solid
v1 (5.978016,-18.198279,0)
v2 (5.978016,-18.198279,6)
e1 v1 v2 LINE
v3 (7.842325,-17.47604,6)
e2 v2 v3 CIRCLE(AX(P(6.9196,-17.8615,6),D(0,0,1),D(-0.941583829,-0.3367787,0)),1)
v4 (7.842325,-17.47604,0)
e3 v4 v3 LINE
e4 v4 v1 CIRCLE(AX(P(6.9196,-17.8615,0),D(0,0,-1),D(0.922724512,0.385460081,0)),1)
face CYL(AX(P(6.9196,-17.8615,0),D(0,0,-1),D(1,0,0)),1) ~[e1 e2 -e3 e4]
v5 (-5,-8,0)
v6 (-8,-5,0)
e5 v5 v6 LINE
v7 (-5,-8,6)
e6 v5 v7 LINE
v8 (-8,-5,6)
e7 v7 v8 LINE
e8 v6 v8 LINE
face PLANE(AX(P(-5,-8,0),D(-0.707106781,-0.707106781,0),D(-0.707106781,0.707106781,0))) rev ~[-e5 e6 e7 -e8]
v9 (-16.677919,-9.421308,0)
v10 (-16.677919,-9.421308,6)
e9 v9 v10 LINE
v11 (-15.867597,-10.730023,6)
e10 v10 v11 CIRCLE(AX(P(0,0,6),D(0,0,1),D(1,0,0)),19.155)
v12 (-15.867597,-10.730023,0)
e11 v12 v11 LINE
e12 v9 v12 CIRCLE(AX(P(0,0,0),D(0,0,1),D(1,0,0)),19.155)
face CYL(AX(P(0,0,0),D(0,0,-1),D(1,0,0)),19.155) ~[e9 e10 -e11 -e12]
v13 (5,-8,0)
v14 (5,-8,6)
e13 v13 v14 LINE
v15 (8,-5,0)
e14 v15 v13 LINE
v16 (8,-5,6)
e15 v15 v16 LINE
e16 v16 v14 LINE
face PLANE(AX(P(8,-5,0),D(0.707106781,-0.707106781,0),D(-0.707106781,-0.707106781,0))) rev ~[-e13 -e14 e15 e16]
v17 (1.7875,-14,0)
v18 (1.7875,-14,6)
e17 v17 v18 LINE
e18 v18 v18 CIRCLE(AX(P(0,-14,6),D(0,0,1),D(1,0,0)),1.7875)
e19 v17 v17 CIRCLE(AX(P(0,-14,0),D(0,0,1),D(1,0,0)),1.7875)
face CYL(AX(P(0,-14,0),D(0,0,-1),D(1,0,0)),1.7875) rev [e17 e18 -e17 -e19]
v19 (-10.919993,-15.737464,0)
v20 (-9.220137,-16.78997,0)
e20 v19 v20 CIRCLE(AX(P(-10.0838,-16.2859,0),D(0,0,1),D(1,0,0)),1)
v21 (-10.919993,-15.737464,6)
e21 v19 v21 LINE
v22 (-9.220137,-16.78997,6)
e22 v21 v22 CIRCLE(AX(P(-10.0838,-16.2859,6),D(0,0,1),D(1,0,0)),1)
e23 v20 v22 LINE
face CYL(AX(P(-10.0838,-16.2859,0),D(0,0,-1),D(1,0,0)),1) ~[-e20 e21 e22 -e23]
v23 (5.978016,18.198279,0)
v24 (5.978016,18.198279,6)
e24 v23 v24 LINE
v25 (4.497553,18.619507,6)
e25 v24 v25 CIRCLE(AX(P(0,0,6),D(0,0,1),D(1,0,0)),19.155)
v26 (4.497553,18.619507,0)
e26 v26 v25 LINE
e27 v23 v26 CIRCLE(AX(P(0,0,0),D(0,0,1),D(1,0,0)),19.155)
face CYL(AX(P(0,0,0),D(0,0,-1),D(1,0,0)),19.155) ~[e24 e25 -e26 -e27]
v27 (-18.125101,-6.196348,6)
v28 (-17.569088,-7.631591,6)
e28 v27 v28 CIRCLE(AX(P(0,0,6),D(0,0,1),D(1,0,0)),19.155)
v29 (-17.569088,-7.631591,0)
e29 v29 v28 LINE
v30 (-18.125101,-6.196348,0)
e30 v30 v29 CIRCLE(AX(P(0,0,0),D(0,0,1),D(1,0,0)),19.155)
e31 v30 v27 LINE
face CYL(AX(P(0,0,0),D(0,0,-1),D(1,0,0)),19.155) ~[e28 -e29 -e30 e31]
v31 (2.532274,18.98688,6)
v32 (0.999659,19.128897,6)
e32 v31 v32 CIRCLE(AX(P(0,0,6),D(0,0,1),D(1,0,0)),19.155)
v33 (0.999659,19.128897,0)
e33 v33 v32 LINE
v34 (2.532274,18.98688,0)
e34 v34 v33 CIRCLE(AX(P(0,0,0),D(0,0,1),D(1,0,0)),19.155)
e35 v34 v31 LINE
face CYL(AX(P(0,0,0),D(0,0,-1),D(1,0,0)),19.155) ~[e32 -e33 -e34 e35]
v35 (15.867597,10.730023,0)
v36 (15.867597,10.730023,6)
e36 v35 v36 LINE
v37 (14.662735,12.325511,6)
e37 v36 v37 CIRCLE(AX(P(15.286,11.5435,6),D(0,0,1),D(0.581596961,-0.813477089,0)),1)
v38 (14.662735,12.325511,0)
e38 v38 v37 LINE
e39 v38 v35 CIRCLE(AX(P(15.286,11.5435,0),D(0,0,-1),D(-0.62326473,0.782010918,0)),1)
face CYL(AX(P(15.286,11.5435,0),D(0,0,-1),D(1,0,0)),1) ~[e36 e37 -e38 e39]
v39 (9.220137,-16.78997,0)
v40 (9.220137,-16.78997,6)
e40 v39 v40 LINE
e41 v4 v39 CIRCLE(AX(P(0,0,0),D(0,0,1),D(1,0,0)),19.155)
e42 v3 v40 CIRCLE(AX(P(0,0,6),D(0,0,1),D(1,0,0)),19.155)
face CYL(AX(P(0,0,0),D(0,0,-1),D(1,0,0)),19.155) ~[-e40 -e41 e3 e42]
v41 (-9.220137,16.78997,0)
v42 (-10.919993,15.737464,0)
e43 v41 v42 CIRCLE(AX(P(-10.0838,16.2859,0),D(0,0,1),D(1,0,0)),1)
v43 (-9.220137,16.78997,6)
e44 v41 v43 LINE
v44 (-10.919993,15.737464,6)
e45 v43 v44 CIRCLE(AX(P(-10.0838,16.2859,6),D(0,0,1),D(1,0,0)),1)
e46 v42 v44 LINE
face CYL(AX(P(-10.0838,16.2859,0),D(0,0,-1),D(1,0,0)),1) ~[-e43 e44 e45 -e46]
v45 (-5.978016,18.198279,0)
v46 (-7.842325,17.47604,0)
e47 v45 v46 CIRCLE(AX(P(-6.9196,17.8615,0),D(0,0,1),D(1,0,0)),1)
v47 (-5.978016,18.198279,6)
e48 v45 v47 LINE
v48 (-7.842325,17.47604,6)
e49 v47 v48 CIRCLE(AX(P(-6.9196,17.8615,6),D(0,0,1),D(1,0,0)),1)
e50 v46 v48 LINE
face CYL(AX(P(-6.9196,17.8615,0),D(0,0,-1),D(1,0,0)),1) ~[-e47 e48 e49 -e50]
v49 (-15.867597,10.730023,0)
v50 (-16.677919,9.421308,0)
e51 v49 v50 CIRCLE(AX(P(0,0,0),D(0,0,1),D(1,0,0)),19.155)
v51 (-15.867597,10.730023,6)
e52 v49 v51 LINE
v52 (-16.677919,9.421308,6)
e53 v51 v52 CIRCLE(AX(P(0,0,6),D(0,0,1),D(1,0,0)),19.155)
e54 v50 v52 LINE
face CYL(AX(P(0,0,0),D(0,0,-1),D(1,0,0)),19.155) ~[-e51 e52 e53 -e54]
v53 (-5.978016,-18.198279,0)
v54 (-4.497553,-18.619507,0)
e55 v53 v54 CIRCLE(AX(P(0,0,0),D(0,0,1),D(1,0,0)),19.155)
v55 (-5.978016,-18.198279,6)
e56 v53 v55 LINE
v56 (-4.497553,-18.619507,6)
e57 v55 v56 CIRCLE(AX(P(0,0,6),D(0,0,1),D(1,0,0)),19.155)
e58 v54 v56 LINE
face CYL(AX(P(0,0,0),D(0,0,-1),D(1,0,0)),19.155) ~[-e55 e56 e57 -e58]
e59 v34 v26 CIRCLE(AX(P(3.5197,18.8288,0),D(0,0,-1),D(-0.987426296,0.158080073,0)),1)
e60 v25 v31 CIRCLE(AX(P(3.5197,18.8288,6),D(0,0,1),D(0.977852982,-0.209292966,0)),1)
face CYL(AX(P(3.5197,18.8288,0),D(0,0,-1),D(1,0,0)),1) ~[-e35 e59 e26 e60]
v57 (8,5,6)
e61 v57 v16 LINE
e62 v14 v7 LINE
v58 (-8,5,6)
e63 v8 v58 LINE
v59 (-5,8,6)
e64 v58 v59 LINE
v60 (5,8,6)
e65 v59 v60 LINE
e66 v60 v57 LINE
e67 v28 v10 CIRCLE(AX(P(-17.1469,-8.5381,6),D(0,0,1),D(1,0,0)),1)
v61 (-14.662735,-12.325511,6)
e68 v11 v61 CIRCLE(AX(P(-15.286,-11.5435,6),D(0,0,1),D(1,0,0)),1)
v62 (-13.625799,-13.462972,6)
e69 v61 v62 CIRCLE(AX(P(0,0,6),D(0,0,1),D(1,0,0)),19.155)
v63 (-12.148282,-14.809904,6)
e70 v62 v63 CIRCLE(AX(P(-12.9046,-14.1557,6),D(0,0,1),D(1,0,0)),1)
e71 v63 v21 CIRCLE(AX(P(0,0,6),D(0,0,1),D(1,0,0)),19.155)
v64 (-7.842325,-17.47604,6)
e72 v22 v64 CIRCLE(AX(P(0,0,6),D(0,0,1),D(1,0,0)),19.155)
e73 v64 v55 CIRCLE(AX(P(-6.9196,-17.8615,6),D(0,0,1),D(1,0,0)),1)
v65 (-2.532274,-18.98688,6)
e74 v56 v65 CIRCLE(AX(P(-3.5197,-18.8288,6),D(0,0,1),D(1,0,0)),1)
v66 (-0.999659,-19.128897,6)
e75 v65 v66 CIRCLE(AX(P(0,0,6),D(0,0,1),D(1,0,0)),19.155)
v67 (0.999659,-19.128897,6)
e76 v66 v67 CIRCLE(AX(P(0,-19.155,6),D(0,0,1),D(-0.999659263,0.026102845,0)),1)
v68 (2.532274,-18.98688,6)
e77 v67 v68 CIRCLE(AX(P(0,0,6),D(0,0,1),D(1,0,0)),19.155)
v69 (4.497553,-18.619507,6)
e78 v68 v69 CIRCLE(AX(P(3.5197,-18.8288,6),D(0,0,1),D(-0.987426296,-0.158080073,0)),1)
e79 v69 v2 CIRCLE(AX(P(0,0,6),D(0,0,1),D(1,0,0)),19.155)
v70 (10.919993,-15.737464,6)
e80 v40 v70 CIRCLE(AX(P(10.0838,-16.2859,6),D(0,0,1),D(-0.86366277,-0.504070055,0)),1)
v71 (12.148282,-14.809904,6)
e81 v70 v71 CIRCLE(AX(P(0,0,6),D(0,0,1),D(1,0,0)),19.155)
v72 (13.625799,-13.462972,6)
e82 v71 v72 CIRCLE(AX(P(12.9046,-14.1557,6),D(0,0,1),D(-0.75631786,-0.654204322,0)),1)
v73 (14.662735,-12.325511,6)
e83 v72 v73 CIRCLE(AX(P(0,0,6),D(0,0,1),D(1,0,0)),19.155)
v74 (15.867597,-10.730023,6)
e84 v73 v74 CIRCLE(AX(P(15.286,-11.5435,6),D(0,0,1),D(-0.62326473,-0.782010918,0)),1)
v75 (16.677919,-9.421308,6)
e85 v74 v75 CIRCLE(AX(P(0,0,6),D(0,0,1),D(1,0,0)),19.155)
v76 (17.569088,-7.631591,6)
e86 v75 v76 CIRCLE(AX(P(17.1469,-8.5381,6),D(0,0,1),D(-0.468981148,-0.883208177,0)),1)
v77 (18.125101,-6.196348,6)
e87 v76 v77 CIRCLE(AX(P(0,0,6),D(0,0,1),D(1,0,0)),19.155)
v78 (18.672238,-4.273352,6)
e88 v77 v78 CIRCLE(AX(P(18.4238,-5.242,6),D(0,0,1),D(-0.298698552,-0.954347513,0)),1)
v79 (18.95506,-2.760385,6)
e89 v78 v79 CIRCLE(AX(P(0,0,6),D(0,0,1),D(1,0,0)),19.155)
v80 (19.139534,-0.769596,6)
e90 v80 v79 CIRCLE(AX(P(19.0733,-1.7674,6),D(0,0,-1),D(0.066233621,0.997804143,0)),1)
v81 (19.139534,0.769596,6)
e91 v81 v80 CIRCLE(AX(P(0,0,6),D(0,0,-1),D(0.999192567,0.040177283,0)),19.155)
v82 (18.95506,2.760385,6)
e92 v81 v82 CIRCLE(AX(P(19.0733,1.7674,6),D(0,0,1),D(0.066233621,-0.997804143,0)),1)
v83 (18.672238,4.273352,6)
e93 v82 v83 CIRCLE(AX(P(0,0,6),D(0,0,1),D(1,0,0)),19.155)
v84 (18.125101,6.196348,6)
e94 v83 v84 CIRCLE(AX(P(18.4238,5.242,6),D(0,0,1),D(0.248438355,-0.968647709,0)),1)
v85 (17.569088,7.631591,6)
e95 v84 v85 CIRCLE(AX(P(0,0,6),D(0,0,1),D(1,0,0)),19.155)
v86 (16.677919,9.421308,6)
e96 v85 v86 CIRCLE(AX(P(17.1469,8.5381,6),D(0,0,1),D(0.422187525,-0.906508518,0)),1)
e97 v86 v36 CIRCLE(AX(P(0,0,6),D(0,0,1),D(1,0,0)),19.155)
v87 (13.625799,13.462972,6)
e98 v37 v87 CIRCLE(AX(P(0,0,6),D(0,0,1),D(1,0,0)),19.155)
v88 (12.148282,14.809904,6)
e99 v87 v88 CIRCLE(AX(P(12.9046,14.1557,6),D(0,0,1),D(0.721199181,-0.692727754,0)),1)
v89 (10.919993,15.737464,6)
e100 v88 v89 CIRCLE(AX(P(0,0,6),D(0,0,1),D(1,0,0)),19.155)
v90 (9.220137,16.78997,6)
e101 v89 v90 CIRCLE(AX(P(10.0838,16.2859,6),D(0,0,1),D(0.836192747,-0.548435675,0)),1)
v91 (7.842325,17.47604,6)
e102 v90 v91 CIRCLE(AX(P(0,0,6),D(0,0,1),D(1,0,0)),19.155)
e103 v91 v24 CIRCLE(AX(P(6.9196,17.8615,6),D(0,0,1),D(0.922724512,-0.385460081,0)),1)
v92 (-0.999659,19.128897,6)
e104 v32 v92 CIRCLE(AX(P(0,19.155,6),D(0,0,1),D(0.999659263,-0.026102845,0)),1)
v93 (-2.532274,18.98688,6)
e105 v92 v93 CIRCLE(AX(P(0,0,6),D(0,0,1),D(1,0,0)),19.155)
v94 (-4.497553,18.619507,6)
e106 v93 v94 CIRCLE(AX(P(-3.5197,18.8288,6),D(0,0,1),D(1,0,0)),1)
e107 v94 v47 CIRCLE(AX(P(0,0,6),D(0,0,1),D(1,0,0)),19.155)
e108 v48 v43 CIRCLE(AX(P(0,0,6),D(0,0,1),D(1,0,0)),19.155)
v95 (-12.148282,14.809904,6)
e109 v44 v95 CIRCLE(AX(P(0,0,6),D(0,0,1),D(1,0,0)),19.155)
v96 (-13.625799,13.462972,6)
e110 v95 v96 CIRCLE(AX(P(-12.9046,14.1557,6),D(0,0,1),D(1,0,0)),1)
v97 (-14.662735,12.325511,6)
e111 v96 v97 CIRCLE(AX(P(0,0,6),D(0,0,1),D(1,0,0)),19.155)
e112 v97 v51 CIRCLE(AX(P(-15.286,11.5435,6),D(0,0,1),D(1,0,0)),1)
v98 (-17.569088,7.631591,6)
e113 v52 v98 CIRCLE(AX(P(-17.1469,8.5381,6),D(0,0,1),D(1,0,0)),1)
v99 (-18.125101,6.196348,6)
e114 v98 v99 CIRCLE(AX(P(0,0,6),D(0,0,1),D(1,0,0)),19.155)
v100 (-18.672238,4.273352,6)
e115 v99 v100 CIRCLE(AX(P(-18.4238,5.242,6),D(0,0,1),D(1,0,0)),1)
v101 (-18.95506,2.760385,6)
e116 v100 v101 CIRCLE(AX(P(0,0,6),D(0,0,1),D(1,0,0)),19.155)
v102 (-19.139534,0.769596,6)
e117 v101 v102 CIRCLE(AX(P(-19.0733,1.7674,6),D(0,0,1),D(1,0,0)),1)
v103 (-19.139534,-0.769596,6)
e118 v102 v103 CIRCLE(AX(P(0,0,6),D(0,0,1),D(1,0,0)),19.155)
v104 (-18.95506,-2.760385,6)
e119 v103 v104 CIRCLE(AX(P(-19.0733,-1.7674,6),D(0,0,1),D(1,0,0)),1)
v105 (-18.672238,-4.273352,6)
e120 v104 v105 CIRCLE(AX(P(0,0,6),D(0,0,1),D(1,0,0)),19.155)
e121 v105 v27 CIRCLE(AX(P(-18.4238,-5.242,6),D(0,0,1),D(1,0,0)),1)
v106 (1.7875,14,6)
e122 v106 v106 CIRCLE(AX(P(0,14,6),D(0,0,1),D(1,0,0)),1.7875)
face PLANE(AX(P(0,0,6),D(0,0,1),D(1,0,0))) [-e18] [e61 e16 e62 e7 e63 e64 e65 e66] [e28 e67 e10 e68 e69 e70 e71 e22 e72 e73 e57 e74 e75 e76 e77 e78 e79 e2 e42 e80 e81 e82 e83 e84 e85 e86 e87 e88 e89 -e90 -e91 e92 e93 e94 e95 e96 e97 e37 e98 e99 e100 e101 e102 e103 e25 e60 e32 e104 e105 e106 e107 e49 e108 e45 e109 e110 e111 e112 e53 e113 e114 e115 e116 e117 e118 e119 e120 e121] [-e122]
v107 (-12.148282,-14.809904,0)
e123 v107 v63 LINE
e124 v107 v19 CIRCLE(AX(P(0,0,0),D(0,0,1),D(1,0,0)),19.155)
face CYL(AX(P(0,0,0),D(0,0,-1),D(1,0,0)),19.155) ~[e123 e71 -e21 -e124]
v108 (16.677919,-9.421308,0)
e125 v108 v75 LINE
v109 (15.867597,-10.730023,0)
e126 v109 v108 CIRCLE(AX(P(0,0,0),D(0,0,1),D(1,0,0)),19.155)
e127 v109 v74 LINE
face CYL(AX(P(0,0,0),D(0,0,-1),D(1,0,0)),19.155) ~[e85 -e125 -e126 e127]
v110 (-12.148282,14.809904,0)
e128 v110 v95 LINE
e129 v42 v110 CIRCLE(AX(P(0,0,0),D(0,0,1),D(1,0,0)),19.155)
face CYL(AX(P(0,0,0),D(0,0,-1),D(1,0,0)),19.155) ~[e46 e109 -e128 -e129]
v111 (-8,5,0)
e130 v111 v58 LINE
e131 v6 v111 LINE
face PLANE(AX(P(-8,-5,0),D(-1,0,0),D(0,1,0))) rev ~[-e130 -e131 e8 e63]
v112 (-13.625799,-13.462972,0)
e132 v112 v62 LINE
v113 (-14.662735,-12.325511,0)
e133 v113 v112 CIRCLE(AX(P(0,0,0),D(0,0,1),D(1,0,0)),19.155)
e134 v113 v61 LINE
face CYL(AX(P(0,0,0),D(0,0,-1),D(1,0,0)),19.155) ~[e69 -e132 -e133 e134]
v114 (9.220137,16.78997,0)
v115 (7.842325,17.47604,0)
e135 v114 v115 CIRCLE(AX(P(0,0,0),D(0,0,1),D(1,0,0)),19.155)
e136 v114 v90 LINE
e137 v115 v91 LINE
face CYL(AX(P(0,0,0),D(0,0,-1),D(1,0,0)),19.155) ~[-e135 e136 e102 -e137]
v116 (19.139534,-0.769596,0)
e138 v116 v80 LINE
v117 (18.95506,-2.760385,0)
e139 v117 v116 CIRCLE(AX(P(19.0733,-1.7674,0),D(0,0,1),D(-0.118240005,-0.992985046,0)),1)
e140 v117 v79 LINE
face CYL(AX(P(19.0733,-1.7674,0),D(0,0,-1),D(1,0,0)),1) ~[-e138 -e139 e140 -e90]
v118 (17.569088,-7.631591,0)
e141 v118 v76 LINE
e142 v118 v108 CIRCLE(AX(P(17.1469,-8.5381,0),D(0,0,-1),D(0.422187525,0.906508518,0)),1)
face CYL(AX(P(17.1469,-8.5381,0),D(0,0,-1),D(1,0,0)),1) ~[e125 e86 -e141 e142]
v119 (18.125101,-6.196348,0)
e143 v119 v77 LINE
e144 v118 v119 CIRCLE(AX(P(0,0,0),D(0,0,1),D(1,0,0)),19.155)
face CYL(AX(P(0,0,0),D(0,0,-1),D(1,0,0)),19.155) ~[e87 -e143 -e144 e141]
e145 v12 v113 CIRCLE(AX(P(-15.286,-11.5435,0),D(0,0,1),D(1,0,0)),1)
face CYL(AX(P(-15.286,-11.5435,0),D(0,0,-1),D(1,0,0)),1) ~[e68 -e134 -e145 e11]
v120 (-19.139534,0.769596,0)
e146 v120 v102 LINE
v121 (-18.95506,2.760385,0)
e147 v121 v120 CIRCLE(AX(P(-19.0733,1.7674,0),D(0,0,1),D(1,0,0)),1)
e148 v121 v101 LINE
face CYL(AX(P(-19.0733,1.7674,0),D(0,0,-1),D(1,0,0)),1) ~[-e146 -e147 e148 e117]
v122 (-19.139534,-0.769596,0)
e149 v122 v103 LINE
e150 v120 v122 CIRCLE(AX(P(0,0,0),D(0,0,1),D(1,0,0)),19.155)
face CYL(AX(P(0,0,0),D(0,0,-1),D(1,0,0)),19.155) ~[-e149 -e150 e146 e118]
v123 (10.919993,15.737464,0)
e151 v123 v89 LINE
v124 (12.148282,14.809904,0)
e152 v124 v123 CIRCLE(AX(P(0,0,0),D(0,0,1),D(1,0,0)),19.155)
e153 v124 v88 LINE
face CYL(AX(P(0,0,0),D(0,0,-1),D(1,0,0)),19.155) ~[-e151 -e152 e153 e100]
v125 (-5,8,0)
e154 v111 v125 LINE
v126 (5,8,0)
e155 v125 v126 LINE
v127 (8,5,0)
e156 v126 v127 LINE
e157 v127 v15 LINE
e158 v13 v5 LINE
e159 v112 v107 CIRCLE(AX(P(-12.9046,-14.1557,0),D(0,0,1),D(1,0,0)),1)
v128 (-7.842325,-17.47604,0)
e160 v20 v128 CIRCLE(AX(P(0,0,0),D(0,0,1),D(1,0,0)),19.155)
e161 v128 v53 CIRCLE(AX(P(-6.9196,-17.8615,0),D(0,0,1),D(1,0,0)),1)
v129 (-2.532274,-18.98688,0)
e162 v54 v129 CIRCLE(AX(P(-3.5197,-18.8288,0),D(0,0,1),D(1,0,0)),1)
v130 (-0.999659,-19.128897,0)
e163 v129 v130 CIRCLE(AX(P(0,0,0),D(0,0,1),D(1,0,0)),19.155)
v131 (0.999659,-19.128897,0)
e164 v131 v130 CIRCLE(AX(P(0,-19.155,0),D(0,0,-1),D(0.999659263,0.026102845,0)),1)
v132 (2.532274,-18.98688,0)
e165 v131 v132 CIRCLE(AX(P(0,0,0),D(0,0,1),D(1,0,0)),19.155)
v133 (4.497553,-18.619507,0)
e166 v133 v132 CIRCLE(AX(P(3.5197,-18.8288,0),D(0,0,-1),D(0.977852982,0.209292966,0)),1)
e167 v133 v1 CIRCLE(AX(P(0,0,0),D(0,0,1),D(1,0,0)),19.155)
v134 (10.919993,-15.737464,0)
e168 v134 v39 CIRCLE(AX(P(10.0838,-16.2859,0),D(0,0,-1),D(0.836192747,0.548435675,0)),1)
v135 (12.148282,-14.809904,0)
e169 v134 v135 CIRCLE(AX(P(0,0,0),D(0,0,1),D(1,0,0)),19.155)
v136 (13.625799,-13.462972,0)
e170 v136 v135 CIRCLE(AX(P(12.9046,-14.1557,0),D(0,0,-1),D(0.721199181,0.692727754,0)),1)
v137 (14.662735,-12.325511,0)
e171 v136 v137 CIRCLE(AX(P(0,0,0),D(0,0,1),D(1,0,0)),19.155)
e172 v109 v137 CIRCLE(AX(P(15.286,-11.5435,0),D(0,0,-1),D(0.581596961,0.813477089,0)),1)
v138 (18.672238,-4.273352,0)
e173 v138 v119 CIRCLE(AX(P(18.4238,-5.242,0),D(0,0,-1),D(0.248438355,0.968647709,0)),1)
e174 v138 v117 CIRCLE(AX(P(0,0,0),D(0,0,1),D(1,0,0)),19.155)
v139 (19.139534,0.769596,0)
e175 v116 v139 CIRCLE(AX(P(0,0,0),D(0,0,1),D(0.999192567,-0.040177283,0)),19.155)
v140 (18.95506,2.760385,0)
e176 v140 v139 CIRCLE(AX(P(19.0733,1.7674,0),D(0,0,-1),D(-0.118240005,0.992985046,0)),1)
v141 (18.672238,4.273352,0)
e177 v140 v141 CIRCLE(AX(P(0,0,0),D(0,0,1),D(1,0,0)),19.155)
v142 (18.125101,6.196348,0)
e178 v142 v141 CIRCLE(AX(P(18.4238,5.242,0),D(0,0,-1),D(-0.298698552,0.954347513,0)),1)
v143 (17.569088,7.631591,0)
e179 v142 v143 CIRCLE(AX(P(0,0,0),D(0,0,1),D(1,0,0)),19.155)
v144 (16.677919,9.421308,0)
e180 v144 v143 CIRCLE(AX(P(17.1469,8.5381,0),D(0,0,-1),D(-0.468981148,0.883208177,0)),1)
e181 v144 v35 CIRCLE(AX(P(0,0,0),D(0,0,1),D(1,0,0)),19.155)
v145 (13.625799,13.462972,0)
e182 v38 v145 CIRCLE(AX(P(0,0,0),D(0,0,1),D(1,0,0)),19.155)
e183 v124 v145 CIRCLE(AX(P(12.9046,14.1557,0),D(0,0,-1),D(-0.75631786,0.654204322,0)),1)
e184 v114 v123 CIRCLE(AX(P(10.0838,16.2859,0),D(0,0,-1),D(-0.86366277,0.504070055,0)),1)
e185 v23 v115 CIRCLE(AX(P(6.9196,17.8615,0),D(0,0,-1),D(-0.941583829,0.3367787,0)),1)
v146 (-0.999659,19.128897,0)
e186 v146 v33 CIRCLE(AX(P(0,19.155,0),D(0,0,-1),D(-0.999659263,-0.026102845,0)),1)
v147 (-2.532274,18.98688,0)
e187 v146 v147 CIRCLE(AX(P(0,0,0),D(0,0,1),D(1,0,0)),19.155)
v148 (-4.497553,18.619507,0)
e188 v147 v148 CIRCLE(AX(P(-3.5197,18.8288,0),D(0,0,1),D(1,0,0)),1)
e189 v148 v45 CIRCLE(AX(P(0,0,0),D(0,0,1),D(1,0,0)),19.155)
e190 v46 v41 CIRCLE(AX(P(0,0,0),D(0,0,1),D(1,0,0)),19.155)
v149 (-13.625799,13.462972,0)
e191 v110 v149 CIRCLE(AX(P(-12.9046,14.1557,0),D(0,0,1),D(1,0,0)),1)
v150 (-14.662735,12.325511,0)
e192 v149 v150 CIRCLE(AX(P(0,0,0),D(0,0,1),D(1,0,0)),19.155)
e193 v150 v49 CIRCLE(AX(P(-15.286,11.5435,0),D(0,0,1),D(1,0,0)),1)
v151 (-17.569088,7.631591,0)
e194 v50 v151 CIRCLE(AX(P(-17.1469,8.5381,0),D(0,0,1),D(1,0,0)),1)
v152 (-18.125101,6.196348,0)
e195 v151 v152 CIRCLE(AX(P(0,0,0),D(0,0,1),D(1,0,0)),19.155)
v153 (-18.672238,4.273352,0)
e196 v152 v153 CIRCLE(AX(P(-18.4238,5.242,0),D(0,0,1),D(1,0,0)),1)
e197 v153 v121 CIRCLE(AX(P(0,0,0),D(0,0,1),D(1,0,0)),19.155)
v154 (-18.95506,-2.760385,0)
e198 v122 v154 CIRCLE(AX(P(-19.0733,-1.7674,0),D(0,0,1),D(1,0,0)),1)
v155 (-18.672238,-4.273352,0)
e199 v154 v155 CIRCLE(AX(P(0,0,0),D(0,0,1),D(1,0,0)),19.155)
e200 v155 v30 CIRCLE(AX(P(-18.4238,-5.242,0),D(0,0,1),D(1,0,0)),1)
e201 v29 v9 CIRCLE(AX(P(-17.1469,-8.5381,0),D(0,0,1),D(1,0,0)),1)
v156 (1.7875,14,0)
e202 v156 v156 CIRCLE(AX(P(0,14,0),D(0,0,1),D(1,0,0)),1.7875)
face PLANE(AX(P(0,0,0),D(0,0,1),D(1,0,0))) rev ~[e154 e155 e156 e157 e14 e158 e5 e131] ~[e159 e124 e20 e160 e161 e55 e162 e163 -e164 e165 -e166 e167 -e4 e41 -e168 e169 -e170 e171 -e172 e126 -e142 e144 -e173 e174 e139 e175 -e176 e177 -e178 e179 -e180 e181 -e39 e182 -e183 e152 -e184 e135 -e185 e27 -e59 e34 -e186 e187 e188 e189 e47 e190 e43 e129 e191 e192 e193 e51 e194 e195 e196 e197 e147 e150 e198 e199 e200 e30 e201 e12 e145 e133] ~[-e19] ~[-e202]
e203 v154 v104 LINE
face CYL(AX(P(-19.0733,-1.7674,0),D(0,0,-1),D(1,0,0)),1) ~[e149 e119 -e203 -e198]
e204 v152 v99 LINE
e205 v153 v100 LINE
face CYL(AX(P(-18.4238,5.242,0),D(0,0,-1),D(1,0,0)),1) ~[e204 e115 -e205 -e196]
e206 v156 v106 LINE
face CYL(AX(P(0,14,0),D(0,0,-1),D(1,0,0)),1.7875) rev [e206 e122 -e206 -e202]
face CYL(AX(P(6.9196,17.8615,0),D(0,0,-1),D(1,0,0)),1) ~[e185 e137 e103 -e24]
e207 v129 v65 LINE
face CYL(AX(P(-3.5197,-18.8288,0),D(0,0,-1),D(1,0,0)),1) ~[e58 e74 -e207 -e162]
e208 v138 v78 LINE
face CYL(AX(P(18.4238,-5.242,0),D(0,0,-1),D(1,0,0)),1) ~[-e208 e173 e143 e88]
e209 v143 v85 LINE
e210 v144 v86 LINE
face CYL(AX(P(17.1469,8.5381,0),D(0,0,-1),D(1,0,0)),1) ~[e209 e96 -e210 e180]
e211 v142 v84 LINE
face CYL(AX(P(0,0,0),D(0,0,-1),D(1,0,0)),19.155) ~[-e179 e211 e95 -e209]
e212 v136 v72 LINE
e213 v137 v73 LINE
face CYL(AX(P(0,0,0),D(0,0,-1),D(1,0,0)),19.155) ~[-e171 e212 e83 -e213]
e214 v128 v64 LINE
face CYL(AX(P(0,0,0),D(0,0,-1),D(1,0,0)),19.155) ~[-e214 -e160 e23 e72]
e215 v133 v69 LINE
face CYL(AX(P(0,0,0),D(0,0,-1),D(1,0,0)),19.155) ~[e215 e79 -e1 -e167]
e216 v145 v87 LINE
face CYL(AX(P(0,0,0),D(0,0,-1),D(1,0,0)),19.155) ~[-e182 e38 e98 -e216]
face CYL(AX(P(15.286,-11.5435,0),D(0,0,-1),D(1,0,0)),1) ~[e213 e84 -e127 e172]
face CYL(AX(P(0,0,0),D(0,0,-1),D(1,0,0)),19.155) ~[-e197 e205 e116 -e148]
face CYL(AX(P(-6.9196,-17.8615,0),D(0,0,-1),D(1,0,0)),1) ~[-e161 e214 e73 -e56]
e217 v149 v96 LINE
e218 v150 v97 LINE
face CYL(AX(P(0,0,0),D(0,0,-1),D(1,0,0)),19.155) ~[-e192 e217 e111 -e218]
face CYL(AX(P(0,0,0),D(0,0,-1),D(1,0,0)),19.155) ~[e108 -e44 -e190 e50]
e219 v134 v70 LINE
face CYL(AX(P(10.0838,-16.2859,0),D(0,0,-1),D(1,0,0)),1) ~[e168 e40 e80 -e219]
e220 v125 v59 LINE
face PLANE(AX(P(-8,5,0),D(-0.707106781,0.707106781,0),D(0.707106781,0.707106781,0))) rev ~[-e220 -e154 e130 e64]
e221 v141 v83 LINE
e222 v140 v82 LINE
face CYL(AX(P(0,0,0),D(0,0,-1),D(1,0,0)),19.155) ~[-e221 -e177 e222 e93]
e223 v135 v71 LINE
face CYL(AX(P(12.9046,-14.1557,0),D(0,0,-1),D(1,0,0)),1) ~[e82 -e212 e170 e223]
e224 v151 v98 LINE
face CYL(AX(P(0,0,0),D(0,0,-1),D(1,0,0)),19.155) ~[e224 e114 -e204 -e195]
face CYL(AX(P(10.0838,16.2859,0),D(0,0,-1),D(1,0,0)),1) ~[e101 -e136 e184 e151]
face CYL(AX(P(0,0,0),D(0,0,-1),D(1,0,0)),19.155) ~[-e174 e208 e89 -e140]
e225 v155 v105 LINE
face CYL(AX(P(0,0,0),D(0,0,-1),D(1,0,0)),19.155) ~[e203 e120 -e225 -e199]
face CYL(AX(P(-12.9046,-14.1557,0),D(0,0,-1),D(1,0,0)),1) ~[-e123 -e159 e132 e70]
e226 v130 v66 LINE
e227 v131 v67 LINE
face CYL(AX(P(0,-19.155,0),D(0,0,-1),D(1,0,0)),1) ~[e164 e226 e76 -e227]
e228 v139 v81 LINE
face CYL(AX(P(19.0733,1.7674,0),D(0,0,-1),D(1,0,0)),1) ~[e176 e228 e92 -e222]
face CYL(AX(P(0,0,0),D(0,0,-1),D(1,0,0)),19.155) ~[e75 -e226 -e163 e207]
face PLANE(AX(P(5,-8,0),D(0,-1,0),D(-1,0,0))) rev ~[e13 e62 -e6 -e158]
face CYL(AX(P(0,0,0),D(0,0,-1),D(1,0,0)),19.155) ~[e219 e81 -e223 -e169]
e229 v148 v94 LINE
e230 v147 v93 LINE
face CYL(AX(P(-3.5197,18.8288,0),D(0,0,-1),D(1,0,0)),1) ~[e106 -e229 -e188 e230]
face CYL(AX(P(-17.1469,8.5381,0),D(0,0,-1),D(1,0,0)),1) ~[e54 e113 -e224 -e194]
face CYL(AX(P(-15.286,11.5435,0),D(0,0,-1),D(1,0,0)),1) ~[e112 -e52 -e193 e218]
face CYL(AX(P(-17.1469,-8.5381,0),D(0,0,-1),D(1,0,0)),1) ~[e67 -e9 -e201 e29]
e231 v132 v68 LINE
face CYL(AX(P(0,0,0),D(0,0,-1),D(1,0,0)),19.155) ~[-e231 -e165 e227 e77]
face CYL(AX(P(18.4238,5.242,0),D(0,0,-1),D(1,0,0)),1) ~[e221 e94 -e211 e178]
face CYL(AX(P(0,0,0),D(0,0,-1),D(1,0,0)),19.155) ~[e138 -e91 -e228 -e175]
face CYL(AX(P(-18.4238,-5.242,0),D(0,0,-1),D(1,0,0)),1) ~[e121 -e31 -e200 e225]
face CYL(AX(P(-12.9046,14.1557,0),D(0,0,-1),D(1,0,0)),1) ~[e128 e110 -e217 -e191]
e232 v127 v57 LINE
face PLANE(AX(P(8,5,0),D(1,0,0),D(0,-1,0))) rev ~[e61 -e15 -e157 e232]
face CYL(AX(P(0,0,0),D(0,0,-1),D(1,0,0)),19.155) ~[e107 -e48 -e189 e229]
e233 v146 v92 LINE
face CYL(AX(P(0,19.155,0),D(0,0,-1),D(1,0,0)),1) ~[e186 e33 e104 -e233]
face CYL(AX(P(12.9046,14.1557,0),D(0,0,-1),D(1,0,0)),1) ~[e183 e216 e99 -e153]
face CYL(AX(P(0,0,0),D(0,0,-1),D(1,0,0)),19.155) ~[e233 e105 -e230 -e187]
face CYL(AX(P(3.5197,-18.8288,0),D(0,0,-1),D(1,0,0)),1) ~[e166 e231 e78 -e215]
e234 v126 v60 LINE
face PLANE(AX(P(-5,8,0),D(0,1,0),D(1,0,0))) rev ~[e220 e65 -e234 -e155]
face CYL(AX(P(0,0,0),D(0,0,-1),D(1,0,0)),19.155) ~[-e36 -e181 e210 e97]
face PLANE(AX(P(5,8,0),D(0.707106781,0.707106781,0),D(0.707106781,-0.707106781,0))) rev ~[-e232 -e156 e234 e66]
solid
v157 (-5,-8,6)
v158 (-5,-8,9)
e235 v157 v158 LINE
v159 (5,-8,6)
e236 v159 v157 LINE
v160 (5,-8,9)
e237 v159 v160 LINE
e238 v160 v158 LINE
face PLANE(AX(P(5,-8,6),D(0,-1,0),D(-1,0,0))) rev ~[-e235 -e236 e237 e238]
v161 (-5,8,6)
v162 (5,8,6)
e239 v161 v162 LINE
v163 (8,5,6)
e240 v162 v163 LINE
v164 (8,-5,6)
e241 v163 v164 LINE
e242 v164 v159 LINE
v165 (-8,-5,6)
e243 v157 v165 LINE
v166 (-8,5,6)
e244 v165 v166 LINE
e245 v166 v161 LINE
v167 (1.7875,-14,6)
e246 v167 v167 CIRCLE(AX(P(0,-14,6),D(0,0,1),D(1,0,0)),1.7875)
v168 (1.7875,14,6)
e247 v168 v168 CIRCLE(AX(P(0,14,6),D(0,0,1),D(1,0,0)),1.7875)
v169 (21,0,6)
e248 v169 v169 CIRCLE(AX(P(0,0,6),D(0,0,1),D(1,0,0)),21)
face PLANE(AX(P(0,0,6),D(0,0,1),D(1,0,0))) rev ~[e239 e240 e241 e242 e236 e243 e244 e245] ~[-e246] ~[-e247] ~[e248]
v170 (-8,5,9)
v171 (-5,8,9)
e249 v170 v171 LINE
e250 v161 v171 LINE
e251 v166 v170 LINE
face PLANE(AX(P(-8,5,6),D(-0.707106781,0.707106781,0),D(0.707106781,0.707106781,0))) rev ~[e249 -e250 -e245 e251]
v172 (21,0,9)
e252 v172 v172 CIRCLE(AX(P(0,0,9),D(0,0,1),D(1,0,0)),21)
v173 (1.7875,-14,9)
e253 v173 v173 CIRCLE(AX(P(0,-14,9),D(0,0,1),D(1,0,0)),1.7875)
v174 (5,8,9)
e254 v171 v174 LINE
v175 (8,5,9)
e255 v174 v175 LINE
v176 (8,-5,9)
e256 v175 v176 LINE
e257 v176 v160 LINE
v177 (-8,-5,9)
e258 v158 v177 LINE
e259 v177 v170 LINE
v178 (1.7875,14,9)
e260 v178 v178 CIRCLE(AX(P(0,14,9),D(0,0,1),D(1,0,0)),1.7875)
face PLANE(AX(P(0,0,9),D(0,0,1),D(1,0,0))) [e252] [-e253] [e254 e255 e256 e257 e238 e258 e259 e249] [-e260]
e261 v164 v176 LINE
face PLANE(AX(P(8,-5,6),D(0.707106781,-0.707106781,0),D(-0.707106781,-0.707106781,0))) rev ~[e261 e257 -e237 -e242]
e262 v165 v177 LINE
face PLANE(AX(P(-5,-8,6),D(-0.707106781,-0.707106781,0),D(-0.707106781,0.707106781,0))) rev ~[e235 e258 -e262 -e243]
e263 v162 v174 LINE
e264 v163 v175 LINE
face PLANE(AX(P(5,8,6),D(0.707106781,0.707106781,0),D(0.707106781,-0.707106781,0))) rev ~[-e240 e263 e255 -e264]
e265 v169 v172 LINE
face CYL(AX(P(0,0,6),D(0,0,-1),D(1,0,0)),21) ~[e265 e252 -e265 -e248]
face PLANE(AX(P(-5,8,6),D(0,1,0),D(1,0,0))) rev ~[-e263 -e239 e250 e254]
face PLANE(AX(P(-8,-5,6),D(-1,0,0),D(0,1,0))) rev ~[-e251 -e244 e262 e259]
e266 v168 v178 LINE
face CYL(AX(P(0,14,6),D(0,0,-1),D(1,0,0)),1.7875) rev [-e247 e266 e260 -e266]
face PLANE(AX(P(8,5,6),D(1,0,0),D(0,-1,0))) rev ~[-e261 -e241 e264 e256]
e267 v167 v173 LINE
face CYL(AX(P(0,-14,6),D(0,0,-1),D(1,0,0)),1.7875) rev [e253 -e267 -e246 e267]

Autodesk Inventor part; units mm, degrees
ref_plane "YZ Plane" through (0, 0, 0) normal (1, 0, 0) x (0, 1, 0)
ref_plane "XZ Plane" through (0, 0, 0) normal (0, 1, 0) x (-1, 0, 0)
ref_plane "XY Plane" through (0, 0, 0) normal (0, 0, 1) x (1, 0, 0)
sketch "Boceto1" plane through (0, 0, 0) normal (0, 0, 1) x (1, 0, 0)
  line L0 (5, -8) -> (-5, -8) projected
  line L1 (-8, -5) -> (-8, 5) projected
  line L2 (-5, 8) -> (5, 8) projected
  line L3 (8, 5) -> (8, -5) projected
  circle A0 centre (0, 0) radius 19.155
  circle A1 centre (0, 0) radius 16.155 construction
  circle A2 centre (0, 19.155) radius 1
  circle A3 centre (-3.5197, 18.8288) radius 1
  circle A4 centre (-6.9196, 17.8615) radius 1
  circle A5 centre (-10.0838, 16.2859) radius 1
  circle A6 centre (-12.9046, 14.1557) radius 1
  circle A7 centre (-15.286, 11.5435) radius 1
  circle A8 centre (-17.1469, 8.5381) radius 1
  circle A9 centre (-18.4238, 5.242) radius 1
  circle A10 centre (-19.0733, 1.7674) radius 1
  circle A11 centre (-19.0733, -1.7674) radius 1
  circle A12 centre (-18.4238, -5.242) radius 1
  circle A13 centre (-17.1469, -8.5381) radius 1
  circle A14 centre (-15.286, -11.5435) radius 1
  circle A15 centre (-12.9046, -14.1557) radius 1
  circle A16 centre (-10.0838, -16.2859) radius 1
  circle A17 centre (-6.9196, -17.8615) radius 1
  circle A18 centre (-3.5197, -18.8288) radius 1
  circle A19 centre (0, -19.155) radius 1
  circle A20 centre (3.5197, -18.8288) radius 1
  circle A21 centre (6.9196, -17.8615) radius 1
  circle A22 centre (10.0838, -16.2859) radius 1
  circle A23 centre (12.9046, -14.1557) radius 1
  circle A24 centre (15.286, -11.5435) radius 1
  circle A25 centre (17.1469, -8.5381) radius 1
  circle A26 centre (18.4238, -5.242) radius 1
  circle A27 centre (19.0733, -1.7674) radius 1
  circle A28 centre (19.0733, 1.7674) radius 1
  circle A29 centre (18.4238, 5.242) radius 1
  circle A30 centre (17.1469, 8.5381) radius 1
  circle A31 centre (15.286, 11.5435) radius 1
  circle A32 centre (0, 0) radius 21.655 construction
  circle A33 centre (12.9046, 14.1557) radius 1
  circle A34 centre (10.0838, 16.2859) radius 1
  circle A35 centre (6.9196, 17.8615) radius 1
  circle A36 centre (3.5197, 18.8288) radius 1
  line L4 (-5, -8) -> (-8, -5) projected
  line L5 (-8, 5) -> (-5, 8) projected
  line L6 (5, 8) -> (8, 5) projected
  line L7 (8, -5) -> (5, -8) projected
  circle A37 centre (0, 0) radius 21 projected
  circle A38 centre (0, -14) radius 1.7875 projected
  circle A39 centre (0, 14) radius 1.7875 projected
  dimension "d0" = 38.31
  dimension "d4" = 3
  dimension "d16" = 2
  dimension "d19" = 360
  dimension "d24" = 43.31
  dimension "d25" = 3.5348
  dimension "d27" = 2.5
extrude "Extrusión1" add sketch "Boceto1" along normal blind 6 contours A0 A27 A26 A25 A24 A23 A22 A21 A20 A19 A18 A17 A16 A15 A14 A13 A12 A11 A10 A9 A8 A7 A6 A5 A4 A3 A2 A36 A35 A34 A33 A31 A30 A29 A28 | A28 A0 | A0 A28 | A27 A0 | A0 A27 | A29 A0 | A0 A29 | A26 A0 | A0 A26 | A30 A0 | A0 A30 | A25 A0 | A0 A25 | A31 A0 | A0 A31 | A24 A0 | A0 A24 | A33 A0 | A0 A33 | A23 A0 | A0 A23 | A34 A0 | A0 A34 | A22 A0 | A0 A22 | A35 A0 | A0 A35 | A21 A0 | A0 A21 | A36 A0 | A0 A36 | A20 A0 | A0 A20 | A2 A0 | A0 A2 | A19 A0 | A0 A19 | A3 A0 | A0 A3 | A18 A0 | A0 A18 | A4 A0 | A0 A4 | A17 A0 | A0 A17 | A5 A0 | A0 A5 | A16 A0 | A0 A16 | A6 A0 | A0 A6 | A15 A0 | A0 A15 | A7 A0 | A0 A7 | A14 A0 | A0 A14 | A8 A0 | A0 A8 | A13 A0 | A0 A13 | A9 A0 | A0 A9 | A12 A0 | A0 A12 | A10 A0 | A0 A10 | A11 A0 | A0 A11
sketch "Boceto3" plane through (0, 0, 6) normal (0, 0, 1) x (1, 0, 0)
  circle A0 centre (0, -14) radius 1.7875 projected
  circle A1 centre (0, 14) radius 1.7875 projected
  line L0 (5, -8) -> (-5, -8) projected
  line L1 (-5, -8) -> (-8, -5) projected
  line L2 (-8, -5) -> (-8, 5) projected
  line L3 (-8, 5) -> (-5, 8) projected
  line L4 (-5, 8) -> (5, 8) projected
  line L5 (5, 8) -> (8, 5) projected
  line L6 (8, 5) -> (8, -5) projected
  line L7 (8, -5) -> (5, -8) projected
  circle A2 centre (0, 0) radius 21 projected
extrude "Extrusión3" add sketch "Boceto3" along normal blind 3 separate body
properties part number "engrane correa dado-motor 2"
